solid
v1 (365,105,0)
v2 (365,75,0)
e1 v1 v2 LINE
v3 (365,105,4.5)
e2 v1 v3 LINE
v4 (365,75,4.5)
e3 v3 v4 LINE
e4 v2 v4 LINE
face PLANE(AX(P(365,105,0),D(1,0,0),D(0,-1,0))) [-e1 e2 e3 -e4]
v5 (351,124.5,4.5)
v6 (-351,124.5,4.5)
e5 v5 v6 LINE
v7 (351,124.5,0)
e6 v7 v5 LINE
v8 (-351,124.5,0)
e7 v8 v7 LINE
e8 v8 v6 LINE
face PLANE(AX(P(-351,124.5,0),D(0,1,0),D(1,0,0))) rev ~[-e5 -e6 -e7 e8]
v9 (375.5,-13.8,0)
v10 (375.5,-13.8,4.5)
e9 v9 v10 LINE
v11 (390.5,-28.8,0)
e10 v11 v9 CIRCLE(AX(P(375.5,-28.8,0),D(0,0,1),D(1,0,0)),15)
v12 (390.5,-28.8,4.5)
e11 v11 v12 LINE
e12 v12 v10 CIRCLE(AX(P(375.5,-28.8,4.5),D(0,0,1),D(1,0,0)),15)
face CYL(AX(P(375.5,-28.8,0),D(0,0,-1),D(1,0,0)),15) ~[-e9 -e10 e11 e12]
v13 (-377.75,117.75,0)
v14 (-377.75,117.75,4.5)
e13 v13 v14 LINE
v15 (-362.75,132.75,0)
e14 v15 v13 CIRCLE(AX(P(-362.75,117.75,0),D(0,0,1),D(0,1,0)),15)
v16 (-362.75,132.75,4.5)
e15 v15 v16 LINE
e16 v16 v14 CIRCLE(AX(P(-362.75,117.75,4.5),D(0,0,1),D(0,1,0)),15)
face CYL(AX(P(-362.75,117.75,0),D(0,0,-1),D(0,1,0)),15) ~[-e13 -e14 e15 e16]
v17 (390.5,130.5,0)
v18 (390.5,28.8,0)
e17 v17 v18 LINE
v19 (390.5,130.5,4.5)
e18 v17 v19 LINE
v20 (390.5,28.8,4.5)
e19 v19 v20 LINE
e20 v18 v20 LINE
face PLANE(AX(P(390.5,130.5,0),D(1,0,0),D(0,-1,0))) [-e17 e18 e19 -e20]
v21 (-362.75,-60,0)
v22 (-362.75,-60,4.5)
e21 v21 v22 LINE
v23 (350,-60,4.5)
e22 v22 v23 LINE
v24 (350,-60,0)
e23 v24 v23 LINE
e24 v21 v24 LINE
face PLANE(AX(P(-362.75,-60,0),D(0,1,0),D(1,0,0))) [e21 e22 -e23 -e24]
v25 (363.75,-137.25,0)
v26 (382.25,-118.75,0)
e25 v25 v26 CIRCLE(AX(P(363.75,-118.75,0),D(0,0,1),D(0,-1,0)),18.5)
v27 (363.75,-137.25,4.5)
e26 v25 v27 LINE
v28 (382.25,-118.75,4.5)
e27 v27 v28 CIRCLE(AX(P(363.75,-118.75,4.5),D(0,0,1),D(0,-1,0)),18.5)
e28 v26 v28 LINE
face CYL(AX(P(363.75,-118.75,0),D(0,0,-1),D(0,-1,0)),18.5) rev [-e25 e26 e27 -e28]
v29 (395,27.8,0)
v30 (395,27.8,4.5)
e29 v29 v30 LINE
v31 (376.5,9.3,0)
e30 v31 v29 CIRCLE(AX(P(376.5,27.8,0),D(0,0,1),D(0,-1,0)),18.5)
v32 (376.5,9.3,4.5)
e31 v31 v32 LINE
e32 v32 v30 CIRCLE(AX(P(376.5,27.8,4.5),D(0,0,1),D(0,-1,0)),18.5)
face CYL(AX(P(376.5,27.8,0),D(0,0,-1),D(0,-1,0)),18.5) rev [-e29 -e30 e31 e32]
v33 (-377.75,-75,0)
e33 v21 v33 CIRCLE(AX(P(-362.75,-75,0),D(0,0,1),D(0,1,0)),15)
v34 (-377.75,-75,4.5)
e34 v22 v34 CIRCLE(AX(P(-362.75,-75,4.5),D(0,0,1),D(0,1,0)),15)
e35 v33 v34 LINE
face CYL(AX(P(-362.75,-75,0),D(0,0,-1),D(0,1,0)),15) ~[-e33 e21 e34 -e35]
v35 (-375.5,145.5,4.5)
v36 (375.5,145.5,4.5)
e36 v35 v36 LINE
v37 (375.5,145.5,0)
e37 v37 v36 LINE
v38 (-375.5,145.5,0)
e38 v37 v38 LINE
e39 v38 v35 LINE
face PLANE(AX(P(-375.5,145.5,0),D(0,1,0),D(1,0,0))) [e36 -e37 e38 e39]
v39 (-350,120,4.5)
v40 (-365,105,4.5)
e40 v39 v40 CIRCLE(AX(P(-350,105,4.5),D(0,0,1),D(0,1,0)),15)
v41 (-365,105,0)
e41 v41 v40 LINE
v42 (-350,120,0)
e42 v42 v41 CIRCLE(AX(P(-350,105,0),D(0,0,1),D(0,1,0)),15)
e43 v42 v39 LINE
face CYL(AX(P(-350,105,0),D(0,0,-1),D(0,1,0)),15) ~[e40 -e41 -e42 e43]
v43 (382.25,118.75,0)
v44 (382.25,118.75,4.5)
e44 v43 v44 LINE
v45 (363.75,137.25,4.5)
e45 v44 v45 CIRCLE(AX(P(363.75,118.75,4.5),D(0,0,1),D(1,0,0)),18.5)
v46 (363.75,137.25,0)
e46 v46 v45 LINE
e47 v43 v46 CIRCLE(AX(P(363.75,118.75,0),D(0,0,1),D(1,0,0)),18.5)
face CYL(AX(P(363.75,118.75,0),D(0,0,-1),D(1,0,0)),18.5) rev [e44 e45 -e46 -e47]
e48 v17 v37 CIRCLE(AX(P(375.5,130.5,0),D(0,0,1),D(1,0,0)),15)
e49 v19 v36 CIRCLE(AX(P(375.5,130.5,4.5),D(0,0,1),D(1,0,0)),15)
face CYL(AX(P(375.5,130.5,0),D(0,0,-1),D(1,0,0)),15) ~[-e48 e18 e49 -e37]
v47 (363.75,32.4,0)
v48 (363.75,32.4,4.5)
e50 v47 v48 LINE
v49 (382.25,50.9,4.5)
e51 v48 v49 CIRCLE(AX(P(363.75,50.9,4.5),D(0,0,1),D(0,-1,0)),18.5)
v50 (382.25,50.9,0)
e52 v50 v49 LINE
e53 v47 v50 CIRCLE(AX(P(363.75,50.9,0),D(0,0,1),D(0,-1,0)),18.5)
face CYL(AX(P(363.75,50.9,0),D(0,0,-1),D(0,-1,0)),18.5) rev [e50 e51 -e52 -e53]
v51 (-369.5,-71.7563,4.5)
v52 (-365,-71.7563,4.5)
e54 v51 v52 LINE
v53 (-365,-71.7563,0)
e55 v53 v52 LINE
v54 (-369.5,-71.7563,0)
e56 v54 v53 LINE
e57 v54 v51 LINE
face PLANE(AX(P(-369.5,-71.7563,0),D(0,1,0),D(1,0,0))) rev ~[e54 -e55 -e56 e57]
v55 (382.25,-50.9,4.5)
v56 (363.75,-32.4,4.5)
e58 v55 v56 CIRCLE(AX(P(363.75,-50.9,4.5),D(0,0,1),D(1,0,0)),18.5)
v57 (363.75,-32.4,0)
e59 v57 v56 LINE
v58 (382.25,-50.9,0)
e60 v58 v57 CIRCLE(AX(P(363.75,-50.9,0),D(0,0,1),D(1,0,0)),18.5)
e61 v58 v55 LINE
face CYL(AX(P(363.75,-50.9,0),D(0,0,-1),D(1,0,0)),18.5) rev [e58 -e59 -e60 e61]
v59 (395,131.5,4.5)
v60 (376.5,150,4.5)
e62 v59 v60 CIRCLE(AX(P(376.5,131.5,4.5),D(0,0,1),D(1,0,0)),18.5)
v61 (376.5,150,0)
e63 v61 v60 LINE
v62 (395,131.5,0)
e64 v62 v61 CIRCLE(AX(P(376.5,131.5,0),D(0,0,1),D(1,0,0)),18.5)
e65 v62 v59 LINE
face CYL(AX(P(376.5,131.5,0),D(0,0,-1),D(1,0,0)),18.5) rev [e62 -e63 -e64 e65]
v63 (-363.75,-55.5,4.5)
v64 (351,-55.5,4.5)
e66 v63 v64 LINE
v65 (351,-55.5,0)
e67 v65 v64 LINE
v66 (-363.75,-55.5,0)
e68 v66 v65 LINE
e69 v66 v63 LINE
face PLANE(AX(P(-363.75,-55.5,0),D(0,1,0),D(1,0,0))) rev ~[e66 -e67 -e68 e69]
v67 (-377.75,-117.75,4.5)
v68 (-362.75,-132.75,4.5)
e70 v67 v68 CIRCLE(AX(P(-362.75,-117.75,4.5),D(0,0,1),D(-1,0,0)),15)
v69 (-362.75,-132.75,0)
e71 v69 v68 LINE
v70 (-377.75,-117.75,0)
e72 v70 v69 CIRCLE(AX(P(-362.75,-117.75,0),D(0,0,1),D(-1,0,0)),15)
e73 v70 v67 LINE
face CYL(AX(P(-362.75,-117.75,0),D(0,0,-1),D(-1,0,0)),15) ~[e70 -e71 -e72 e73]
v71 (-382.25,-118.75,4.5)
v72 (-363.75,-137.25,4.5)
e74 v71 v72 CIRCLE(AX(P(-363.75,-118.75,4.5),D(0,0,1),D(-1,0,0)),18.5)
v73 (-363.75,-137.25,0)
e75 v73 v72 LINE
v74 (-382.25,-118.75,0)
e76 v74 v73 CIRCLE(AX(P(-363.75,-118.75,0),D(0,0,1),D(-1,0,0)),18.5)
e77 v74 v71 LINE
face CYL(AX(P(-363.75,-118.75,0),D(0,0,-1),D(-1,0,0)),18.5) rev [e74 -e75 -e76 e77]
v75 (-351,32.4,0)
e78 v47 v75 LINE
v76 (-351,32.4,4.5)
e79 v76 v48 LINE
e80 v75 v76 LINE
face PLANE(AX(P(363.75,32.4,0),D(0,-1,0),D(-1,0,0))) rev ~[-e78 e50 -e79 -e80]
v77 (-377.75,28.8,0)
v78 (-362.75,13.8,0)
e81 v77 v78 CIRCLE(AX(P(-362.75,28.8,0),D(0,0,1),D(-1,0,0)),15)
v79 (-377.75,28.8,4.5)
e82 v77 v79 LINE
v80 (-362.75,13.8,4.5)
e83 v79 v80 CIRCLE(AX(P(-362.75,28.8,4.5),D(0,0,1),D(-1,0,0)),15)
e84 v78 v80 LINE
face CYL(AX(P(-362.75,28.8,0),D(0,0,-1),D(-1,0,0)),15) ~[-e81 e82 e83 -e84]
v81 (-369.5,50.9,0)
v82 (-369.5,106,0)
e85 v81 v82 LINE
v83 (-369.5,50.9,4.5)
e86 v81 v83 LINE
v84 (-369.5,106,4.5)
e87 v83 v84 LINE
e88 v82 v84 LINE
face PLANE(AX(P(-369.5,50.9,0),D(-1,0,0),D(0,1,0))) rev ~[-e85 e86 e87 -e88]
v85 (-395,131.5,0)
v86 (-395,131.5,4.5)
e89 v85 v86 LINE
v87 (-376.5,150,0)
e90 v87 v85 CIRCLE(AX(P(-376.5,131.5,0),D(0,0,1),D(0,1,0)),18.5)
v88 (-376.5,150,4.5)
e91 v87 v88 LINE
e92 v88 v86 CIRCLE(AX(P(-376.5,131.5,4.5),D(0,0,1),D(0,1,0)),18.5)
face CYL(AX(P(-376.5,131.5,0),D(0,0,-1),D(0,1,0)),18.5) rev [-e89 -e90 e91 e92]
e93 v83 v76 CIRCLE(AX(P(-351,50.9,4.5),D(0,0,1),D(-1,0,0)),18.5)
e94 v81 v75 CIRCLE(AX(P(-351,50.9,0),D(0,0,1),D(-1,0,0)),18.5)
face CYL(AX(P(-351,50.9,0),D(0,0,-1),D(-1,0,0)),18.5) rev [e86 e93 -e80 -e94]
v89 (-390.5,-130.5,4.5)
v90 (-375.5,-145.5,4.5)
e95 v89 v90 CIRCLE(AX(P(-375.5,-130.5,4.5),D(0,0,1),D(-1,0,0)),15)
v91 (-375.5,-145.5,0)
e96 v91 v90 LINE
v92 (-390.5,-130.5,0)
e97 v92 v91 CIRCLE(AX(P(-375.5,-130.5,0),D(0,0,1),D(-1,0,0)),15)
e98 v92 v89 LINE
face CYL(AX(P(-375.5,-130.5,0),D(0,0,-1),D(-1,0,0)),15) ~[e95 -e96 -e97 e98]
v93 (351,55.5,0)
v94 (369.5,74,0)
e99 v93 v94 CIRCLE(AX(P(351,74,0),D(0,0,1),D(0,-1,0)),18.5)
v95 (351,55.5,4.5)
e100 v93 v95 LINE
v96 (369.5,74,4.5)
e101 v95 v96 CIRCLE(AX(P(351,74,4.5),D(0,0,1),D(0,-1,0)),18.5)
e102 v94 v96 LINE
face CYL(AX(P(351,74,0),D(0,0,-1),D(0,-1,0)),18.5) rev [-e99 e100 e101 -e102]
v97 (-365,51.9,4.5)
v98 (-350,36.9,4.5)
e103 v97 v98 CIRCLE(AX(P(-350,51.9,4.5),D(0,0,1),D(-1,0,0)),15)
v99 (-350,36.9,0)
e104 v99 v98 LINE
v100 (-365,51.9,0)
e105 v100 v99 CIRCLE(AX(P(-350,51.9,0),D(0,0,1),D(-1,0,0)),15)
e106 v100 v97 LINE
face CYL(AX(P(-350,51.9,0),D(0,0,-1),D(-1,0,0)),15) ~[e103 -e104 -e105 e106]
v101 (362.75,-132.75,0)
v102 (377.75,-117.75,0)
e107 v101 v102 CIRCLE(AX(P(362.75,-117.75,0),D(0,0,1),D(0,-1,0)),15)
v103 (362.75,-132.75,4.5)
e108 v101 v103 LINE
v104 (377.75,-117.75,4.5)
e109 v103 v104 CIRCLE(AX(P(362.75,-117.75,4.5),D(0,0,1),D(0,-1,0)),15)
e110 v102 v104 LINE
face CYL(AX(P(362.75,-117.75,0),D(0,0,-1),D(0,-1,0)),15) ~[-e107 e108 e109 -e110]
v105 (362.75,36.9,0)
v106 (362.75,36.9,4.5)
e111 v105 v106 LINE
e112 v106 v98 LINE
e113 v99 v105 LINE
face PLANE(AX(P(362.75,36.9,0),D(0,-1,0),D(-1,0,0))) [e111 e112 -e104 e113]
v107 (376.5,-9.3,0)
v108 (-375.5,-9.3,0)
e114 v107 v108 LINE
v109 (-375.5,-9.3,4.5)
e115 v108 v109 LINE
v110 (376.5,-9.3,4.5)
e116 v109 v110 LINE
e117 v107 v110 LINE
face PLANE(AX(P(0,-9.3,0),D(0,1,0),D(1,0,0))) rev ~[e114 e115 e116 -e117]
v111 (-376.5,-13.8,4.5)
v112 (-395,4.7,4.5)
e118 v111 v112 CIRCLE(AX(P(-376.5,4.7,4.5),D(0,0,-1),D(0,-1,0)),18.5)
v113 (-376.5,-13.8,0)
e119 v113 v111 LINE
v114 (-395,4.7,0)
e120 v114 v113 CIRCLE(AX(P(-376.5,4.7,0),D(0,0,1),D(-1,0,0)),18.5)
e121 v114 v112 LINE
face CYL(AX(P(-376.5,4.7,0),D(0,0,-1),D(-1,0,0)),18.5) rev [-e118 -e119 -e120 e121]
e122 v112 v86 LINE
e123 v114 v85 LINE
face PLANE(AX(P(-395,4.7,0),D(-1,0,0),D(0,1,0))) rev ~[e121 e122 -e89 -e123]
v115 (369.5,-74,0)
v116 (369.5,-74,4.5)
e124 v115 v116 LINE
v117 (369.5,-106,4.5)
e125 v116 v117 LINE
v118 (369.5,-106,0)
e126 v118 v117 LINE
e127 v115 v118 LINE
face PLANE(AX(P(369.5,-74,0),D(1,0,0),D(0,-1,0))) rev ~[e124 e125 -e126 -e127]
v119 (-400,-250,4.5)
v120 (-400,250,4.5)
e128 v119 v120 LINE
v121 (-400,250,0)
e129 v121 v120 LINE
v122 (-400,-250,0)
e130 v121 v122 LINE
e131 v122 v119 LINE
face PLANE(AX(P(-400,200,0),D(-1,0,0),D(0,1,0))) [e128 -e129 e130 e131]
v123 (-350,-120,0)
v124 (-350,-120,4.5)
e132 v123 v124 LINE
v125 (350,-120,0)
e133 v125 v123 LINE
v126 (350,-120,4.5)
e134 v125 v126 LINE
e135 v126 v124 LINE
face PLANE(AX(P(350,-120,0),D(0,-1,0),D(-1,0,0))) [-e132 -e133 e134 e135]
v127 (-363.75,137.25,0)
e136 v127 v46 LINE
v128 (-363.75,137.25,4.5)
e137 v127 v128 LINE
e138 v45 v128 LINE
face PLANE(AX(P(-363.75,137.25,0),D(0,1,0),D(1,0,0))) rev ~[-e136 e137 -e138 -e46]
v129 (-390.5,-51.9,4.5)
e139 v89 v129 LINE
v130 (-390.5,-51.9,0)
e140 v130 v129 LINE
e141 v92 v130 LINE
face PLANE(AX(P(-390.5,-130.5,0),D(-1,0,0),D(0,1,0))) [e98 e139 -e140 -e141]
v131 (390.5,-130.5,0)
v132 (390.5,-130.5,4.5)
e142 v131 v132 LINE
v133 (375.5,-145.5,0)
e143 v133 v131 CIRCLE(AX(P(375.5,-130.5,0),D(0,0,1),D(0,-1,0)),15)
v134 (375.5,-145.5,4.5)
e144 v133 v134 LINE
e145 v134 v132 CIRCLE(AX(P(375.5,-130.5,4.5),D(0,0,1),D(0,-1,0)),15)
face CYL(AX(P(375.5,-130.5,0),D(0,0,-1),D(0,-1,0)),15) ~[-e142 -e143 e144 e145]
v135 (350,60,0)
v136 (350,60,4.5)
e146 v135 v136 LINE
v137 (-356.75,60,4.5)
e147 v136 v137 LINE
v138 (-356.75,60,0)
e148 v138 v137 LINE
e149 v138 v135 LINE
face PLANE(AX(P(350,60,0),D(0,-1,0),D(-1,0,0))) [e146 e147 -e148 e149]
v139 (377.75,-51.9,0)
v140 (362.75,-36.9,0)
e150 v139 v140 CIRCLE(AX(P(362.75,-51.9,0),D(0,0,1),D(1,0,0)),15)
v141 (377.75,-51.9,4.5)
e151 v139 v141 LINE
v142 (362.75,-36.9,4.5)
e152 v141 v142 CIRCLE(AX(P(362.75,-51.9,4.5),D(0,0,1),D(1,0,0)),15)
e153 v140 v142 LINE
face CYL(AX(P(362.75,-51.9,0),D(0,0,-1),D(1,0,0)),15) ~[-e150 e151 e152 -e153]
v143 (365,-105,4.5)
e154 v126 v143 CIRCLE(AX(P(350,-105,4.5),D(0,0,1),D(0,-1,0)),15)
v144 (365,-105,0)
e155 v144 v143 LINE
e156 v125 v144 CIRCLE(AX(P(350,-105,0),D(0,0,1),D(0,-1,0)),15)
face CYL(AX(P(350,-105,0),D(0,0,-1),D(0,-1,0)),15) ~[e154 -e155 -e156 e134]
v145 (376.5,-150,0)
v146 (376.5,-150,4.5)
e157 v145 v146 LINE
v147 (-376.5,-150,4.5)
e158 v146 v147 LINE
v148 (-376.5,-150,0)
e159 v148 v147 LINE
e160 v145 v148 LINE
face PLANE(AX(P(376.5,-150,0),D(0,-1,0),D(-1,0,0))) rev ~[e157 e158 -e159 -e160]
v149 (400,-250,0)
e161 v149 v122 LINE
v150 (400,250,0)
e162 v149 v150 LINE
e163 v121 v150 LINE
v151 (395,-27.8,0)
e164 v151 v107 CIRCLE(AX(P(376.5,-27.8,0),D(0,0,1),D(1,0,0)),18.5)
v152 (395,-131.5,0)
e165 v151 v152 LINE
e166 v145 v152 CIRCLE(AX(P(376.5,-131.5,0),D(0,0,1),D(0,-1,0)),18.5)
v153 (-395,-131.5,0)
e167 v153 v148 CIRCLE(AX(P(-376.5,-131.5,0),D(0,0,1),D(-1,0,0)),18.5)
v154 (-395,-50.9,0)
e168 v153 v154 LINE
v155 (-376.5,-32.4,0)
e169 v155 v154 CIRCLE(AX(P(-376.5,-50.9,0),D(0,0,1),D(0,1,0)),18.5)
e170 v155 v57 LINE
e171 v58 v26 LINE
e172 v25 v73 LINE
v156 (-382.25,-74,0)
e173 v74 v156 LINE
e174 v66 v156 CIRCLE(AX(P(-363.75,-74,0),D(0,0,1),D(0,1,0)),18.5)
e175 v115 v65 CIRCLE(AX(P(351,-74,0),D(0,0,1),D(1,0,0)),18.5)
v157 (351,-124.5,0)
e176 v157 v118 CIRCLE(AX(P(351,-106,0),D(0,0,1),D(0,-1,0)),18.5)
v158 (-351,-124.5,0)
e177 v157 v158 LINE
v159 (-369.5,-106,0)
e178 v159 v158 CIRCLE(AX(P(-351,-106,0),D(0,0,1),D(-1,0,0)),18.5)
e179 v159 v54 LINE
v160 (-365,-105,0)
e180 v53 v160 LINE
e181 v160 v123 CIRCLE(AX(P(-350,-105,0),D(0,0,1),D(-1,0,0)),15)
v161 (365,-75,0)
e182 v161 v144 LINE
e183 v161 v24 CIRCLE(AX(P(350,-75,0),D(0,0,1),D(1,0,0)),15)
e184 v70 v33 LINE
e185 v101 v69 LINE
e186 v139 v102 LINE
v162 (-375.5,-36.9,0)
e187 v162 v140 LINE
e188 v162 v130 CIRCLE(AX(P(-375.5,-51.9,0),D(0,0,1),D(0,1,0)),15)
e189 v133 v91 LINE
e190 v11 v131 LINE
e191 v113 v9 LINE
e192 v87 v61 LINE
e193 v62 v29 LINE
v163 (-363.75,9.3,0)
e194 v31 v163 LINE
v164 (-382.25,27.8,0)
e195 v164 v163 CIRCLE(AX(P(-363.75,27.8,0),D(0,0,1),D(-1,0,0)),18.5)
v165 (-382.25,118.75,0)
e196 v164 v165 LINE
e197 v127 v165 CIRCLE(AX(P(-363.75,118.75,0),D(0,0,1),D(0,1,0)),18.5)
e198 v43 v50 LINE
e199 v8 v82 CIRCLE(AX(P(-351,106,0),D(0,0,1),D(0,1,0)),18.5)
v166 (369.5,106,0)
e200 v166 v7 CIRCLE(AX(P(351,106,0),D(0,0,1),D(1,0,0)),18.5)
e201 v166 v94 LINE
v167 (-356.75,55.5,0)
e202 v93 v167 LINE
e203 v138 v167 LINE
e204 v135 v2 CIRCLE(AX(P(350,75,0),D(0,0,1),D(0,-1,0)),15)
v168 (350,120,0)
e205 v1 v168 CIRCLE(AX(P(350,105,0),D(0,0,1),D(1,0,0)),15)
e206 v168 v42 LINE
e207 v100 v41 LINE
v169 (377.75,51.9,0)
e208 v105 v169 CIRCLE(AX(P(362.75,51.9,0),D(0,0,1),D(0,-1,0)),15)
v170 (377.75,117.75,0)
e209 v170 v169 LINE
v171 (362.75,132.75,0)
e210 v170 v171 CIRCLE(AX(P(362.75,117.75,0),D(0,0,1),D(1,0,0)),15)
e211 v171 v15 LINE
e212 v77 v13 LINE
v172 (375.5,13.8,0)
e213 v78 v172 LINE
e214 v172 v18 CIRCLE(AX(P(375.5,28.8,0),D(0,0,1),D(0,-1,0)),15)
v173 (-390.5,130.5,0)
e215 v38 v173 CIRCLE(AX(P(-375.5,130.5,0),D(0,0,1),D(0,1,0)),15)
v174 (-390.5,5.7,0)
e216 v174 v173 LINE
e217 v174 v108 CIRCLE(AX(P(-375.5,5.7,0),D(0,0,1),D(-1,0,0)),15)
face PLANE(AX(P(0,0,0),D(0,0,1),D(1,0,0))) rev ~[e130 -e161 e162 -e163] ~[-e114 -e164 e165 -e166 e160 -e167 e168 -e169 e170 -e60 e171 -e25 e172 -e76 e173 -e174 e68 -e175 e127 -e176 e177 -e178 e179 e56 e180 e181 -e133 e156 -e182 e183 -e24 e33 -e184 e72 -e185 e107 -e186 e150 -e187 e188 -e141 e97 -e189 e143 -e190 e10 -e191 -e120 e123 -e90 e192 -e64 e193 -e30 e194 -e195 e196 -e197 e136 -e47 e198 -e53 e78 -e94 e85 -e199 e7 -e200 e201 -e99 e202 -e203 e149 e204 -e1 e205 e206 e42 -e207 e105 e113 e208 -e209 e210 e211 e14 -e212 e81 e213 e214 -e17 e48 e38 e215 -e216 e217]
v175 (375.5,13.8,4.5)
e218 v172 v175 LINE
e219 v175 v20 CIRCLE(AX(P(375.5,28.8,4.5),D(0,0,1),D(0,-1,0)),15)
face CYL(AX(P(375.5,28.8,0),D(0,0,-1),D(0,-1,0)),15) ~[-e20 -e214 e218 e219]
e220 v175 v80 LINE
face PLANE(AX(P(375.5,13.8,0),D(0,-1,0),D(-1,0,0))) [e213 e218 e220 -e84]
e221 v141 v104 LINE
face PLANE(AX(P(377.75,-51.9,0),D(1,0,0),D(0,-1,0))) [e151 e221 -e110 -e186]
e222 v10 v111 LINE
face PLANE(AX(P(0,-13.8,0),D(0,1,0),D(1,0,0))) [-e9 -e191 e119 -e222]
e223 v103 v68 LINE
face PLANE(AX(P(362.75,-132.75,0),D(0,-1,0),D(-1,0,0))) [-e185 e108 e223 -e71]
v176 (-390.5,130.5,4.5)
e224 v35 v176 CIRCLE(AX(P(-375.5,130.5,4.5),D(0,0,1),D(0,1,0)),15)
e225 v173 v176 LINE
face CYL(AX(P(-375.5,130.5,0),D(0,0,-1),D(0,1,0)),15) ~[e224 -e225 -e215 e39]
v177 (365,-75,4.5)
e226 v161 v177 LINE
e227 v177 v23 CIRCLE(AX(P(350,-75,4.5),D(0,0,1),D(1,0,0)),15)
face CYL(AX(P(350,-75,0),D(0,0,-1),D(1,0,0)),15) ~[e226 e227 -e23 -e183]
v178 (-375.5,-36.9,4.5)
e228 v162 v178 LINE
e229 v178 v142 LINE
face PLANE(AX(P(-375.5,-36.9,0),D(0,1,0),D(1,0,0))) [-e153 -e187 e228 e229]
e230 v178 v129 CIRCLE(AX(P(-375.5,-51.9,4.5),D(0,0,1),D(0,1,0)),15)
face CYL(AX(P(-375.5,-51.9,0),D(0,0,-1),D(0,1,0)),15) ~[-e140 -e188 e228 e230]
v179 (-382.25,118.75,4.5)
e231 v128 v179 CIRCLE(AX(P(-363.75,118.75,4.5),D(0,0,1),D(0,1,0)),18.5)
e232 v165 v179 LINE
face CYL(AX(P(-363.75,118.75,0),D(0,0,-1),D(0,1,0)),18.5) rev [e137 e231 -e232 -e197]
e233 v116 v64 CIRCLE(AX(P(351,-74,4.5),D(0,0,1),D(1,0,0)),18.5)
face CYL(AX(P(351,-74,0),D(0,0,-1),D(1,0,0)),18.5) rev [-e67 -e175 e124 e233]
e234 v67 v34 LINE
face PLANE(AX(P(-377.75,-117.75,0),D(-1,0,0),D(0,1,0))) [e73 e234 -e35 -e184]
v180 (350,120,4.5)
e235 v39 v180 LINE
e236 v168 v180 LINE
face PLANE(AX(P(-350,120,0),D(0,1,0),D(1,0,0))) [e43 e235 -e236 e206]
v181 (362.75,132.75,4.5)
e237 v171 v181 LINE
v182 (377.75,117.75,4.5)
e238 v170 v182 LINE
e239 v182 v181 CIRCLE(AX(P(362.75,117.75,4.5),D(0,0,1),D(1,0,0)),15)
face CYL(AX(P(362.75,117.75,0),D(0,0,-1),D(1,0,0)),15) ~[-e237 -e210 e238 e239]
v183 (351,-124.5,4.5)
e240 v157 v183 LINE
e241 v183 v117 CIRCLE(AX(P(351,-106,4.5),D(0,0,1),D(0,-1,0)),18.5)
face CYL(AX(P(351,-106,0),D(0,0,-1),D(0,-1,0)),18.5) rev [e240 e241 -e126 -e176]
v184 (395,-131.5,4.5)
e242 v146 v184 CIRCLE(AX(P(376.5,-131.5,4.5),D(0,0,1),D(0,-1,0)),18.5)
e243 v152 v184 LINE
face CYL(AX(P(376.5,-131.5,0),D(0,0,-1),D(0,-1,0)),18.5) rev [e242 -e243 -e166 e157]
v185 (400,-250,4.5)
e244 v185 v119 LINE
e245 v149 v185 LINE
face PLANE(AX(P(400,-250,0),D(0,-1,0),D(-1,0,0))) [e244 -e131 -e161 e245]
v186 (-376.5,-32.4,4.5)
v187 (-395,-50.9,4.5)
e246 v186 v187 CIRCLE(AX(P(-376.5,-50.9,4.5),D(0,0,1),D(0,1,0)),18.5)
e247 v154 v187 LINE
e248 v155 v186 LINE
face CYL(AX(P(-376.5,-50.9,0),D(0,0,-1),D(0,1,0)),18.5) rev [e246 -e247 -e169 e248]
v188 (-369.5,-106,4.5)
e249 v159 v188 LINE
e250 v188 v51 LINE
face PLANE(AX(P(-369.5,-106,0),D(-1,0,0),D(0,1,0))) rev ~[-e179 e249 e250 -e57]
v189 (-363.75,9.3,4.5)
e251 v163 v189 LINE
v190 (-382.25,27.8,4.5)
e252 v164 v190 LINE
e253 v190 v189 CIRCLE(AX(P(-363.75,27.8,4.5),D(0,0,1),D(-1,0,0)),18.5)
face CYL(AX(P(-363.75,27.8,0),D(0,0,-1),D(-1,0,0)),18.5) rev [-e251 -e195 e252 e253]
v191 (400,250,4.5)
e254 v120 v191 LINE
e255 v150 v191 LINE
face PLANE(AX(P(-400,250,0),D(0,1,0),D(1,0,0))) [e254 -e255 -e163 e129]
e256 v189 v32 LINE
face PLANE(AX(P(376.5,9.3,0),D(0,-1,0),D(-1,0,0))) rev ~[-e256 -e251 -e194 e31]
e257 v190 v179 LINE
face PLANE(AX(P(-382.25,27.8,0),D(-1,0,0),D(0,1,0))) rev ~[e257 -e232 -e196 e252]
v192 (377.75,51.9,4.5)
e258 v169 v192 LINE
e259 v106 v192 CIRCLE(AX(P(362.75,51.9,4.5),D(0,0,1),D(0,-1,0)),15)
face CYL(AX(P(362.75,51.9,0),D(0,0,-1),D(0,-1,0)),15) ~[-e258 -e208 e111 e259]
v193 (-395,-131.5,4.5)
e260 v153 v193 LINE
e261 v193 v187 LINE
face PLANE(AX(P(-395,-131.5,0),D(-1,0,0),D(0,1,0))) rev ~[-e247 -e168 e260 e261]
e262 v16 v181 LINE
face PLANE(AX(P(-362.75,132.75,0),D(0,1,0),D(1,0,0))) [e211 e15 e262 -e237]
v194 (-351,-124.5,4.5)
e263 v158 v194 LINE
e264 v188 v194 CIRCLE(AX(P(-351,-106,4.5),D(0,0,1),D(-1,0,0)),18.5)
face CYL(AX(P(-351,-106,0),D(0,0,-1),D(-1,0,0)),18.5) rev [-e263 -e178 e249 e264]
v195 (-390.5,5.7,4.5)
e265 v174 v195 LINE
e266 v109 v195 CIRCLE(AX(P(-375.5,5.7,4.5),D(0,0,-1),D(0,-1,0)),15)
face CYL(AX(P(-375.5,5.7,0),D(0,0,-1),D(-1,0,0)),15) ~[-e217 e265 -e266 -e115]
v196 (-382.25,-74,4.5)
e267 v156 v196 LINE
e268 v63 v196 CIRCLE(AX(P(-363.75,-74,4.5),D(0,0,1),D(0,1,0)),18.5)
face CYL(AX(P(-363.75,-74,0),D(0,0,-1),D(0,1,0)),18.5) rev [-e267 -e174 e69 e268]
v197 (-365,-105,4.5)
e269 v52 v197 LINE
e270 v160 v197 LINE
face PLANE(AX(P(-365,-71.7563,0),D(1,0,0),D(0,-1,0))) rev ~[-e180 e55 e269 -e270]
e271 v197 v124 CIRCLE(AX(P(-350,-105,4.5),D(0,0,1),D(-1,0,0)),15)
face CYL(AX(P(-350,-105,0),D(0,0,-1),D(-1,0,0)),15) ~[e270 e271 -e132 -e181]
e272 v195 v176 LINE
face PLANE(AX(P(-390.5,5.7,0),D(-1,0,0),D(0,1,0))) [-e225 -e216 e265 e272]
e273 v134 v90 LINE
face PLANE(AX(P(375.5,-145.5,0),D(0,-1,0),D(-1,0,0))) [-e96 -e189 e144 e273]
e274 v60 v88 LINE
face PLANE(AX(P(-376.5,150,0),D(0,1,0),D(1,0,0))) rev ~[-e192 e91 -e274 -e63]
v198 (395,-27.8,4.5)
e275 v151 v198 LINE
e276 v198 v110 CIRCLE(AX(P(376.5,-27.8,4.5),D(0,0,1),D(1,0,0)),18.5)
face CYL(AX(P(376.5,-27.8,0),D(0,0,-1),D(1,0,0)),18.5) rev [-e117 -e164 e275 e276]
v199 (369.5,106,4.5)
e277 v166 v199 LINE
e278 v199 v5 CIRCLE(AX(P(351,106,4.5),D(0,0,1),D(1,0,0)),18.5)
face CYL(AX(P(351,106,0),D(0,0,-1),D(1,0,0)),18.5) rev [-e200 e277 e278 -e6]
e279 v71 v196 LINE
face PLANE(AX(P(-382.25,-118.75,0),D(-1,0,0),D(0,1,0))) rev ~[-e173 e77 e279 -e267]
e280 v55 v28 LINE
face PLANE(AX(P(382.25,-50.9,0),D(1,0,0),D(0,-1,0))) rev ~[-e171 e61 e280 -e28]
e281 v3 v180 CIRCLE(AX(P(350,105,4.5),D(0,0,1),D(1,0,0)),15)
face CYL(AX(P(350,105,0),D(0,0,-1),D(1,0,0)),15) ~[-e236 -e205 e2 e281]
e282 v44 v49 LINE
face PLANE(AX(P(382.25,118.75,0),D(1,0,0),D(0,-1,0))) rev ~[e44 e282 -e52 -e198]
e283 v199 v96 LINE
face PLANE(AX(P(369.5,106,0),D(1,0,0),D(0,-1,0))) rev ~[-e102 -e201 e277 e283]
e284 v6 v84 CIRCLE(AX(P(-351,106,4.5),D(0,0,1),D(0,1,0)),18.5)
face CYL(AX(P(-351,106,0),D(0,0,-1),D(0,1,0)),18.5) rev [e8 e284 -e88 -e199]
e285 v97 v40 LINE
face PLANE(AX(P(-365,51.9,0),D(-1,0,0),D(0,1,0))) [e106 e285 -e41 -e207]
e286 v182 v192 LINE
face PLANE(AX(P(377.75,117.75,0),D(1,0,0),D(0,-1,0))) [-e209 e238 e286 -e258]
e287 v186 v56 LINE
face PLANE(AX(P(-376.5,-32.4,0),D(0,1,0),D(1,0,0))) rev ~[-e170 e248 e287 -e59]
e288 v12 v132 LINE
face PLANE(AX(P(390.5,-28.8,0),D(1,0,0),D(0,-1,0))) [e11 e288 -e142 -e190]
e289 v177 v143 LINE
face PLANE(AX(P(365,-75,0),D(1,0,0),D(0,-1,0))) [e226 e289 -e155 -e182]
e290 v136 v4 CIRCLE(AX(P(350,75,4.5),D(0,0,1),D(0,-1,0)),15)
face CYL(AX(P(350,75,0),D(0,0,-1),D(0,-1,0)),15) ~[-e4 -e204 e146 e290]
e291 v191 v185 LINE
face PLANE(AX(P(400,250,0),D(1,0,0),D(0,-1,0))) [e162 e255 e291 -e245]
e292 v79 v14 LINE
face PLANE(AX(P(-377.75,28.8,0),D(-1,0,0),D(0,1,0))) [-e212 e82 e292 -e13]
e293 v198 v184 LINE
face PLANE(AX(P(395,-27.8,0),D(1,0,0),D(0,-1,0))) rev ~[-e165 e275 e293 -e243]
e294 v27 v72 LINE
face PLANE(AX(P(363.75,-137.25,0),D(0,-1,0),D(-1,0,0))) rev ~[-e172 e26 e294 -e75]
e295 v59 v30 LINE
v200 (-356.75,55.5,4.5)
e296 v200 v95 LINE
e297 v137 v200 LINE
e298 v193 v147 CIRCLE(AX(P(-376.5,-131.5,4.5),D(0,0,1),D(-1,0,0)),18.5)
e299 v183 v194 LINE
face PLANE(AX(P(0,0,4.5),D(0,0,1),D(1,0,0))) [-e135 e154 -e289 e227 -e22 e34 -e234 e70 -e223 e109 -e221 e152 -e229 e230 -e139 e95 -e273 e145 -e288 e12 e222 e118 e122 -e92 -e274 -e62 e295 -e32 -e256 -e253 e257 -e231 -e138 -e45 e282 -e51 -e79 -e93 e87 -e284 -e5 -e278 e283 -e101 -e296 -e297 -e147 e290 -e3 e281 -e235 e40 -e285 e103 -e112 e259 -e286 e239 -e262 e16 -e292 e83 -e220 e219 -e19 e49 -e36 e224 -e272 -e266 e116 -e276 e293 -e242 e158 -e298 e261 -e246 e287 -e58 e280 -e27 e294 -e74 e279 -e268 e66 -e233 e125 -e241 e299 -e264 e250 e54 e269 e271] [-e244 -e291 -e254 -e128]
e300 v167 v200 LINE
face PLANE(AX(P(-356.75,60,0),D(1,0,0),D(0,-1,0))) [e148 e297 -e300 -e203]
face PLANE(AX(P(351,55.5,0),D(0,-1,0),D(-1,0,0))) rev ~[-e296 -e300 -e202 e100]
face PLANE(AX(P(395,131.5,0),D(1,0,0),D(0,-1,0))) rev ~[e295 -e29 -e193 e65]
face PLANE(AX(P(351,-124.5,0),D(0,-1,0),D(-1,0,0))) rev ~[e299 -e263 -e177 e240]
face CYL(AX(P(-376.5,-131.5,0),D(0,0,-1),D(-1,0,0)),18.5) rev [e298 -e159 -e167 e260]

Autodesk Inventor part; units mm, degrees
ref_plane "YZ Plane" through (0, 0, 0) normal (1, 0, 0) x (0, 1, 0)
ref_plane "XZ Plane" through (0, 0, 0) normal (0, 1, 0) x (-1, 0, 0)
ref_plane "XY Plane" through (0, 0, 0) normal (0, 0, 1) x (1, 0, 0)
sketch "layer_layout_sketch" plane through (0, 0, 0) normal (0, 0, 1) x (1, 0, 0)
  line L0 (-400, 250) -> (400, 250)
  line L1 (400, 250) -> (400, -250)
  line L2 (400, -250) -> (-400, -250)
  line L3 (-400, -250) -> (-400, 250)
  line L4 (0, 250) -> (0, -250) construction
  line L5 (-400, 200) -> (400, 200)
  line L6 (400, 200) -> (400, -200)
  line L7 (400, -200) -> (-400, -200)
  line L8 (-400, -200) -> (-400, 200)
  line L9 (0, 200) -> (0, -200) construction
  line L10 (-400, 150) -> (400, 150)
  line L11 (400, 150) -> (400, -150)
  line L12 (400, -150) -> (-400, -150)
  line L13 (-400, -150) -> (-400, 150)
  line L14 (0, 150) -> (0, -150) construction
  point P0 (0, 0)
  point P1 (0, 0)
  dimension "d116" = 500
  dimension "d117" = 800
  dimension "d122" = 400
  dimension "d123" = 300
sketch "coil_layer_sketch_lower" plane through (0, 0, 0) normal (0, 0, 1) x (1, 0, 0)
  line L0 (0, -9.3) -> (376.5, -9.3)
  line L1 (395, -27.8) -> (395, -131.5)
  line L2 (376.5, -150) -> (-376.5, -150)
  line L3 (-395, -131.5) -> (-395, -50.9)
  line L4 (0, -9.3) -> (0, -13.8)
  line L5 (0, -13.8) -> (375.5, -13.8)
  line L6 (390.5, -28.8) -> (390.5, -130.5)
  line L7 (375.5, -145.5) -> (-375.5, -145.5)
  line L8 (-376.5, -32.4) -> (363.75, -32.4)
  line L9 (382.25, -50.9) -> (382.25, -118.75)
  line L10 (363.75, -137.25) -> (-363.75, -137.25)
  line L11 (-390.5, -130.5) -> (-390.5, -51.9)
  line L12 (-375.5, -36.9) -> (362.75, -36.9)
  line L13 (377.75, -51.9) -> (377.75, -117.75)
  line L14 (362.75, -132.75) -> (-362.75, -132.75)
  line L15 (-377.75, -117.75) -> (-377.75, -75)
  line L16 (-382.25, -118.75) -> (-382.25, -74)
  line L17 (-363.75, -55.5) -> (351, -55.5)
  line L18 (369.5, -74) -> (369.5, -106)
  line L19 (-362.75, -60) -> (350, -60)
  line L20 (365, -75) -> (365, -105)
  line L21 (-523.3641, 0) -> (523.3641, 0) projected
  line L22 (350, -120) -> (-350, -120)
  line L23 (351, -124.5) -> (-351, -124.5)
  line L24 (-369.5, -106) -> (-369.5, -71.7563)
  line L25 (-369.5, -71.7563) -> (-365, -71.7563)
  line L26 (-365, -71.7563) -> (-365, -105)
  arc A0 (395, -27.8) -> (376.5, -9.3) centre (376.5, -27.8) ccw
  arc A1 (382.25, -50.9) -> (363.75, -32.4) centre (363.75, -50.9) ccw
  arc A2 (369.5, -74) -> (351, -55.5) centre (351, -74) ccw
  arc A3 (351, -124.5) -> (369.5, -106) centre (351, -106) ccw
  arc A4 (363.75, -137.25) -> (382.25, -118.75) centre (363.75, -118.75) ccw
  arc A5 (376.5, -150) -> (395, -131.5) centre (376.5, -131.5) ccw
  arc A6 (-395, -131.5) -> (-376.5, -150) centre (-376.5, -131.5) ccw
  arc A7 (-382.25, -118.75) -> (-363.75, -137.25) centre (-363.75, -118.75) ccw
  arc A8 (-369.5, -106) -> (-351, -124.5) centre (-351, -106) ccw
  arc A9 (-376.5, -32.4) -> (-395, -50.9) centre (-376.5, -50.9) ccw
  arc A10 (-363.75, -55.5) -> (-382.25, -74) centre (-363.75, -74) ccw
  arc A11 (-375.5, -36.9) -> (-390.5, -51.9) centre (-375.5, -51.9) ccw
  arc A12 (-362.75, -60) -> (-377.75, -75) centre (-362.75, -75) ccw
  arc A13 (-390.5, -130.5) -> (-375.5, -145.5) centre (-375.5, -130.5) ccw
  arc A14 (-377.75, -117.75) -> (-362.75, -132.75) centre (-362.75, -117.75) ccw
  arc A15 (-365, -105) -> (-350, -120) centre (-350, -105) ccw
  arc A16 (350, -120) -> (365, -105) centre (350, -105) ccw
  arc A17 (362.75, -132.75) -> (377.75, -117.75) centre (362.75, -117.75) ccw
  arc A18 (375.5, -145.5) -> (390.5, -130.5) centre (375.5, -130.5) ccw
  arc A19 (377.75, -51.9) -> (362.75, -36.9) centre (362.75, -51.9) ccw
  arc A20 (390.5, -28.8) -> (375.5, -13.8) centre (375.5, -28.8) ccw
  arc A21 (365, -75) -> (350, -60) centre (350, -75) ccw
  point P0 (0, 0)
  point P1 (0, 0)
  point P2 (368.0934, -60)
  point P3 (370, -61.9066)
  point P4 (0, -150)
  dimension "d1" = 4.5
  dimension "d2" = 4.5
  dimension "d3" = 4.5
  dimension "d4" = 9.3
  dimension "d5" = 790
  dimension "d6" = 395
  dimension "d7" = 4.5
  dimension "d8" = 4.5
  dimension "d9" = 8.25
  dimension "d10" = 4.5
  dimension "d11" = 18.6
  dimension "d12" = 4.5
  dimension "d13" = 8.25
  dimension "d14" = 4.5
  dimension "d15" = 4.5
  dimension "d16" = 4.5
  dimension "d17" = 8.25
  dimension "d19" = 18.6
  dimension "d20" = 8.25
  dimension "d82" = 150
  dimension "d88" = 4.5
  dimension "d89" = 8.25
  dimension "d96" = 4.5
  dimension "d97" = 8.25
  dimension "d98" = 18.5
  dimension "d99" = 15
  dimension "d109" = 15
sketch "coil_layer_sketch_upper" plane through (0, 0, 0) normal (0, 0, 1) x (1, 0, 0)
  line L0 (0, -13.8) -> (-376.5, -13.8)
  line L1 (-395, 4.7) -> (-395, 131.5)
  line L2 (-376.5, 150) -> (376.5, 150)
  line L3 (395, 131.5) -> (395, 27.8)
  line L4 (0, -9.3) -> (-375.5, -9.3)
  line L5 (-390.5, 5.7) -> (-390.5, 130.5)
  line L6 (-375.5, 145.5) -> (375.5, 145.5)
  line L7 (390.5, 130.5) -> (390.5, 28.8)
  line L8 (375.5, 13.8) -> (-362.75, 13.8)
  line L9 (-377.75, 28.8) -> (-377.75, 117.75)
  line L10 (376.5, 9.3) -> (-363.75, 9.3)
  line L11 (-382.25, 27.8) -> (-382.25, 118.75)
  line L12 (-362.75, 132.75) -> (362.75, 132.75)
  line L13 (-363.75, 137.25) -> (363.75, 137.25)
  line L14 (377.75, 117.75) -> (377.75, 51.9)
  line L15 (362.75, 36.9) -> (-350, 36.9)
  line L16 (382.25, 118.75) -> (382.25, 50.9)
  line L17 (363.75, 32.4) -> (-351, 32.4)
  line L18 (-365, 51.9) -> (-365, 105)
  line L19 (-350, 120) -> (350, 120)
  line L20 (365, 105) -> (365, 75)
  line L21 (350, 60) -> (-356.75, 60)
  line L22 (-369.5, 50.9) -> (-369.5, 106)
  line L23 (-351, 124.5) -> (351, 124.5)
  line L24 (369.5, 106) -> (369.5, 74)
  line L25 (351, 55.5) -> (-356.75, 55.5)
  line L26 (-356.75, 60) -> (-356.75, 55.5)
  line L27 (-700, 0) -> (700, 0)
  line L28 (-980, 0) -> (980, 0) projected
  line L29 (0, -13.8) -> (0, -9.3)
  line L30 (0, -51.9241) -> (0, 188.1241) projected
  arc A0 (365, 105) -> (350, 120) centre (350, 105) ccw
  arc A1 (350, 60) -> (365, 75) centre (350, 75) ccw
  arc A2 (377.75, 117.75) -> (362.75, 132.75) centre (362.75, 117.75) ccw
  arc A3 (362.75, 36.9) -> (377.75, 51.9) centre (362.75, 51.9) ccw
  arc A4 (390.5, 130.5) -> (375.5, 145.5) centre (375.5, 130.5) ccw
  arc A5 (375.5, 13.8) -> (390.5, 28.8) centre (375.5, 28.8) ccw
  arc A6 (-350, 120) -> (-365, 105) centre (-350, 105) ccw
  arc A7 (-365, 51.9) -> (-350, 36.9) centre (-350, 51.9) ccw
  arc A8 (-377.75, 28.8) -> (-362.75, 13.8) centre (-362.75, 28.8) ccw
  arc A9 (-390.5, 5.7) -> (-375.5, -9.3) centre (-375.5, 5.7) ccw
  arc A10 (-362.75, 132.75) -> (-377.75, 117.75) centre (-362.75, 117.75) ccw
  arc A11 (-375.5, 145.5) -> (-390.5, 130.5) centre (-375.5, 130.5) ccw
  arc A12 (-376.5, 150) -> (-395, 131.5) centre (-376.5, 131.5) ccw
  arc A13 (-363.75, 137.25) -> (-382.25, 118.75) centre (-363.75, 118.75) ccw
  arc A14 (-351, 124.5) -> (-369.5, 106) centre (-351, 106) ccw
  arc A15 (-369.5, 50.9) -> (-351, 32.4) centre (-351, 50.9) ccw
  arc A16 (-382.25, 27.8) -> (-363.75, 9.3) centre (-363.75, 27.8) ccw
  arc A17 (-395, 4.7) -> (-376.5, -13.8) centre (-376.5, 4.7) ccw
  arc A18 (351, 55.5) -> (369.5, 74) centre (351, 74) ccw
  arc A19 (363.75, 32.4) -> (382.25, 50.9) centre (363.75, 50.9) ccw
  arc A20 (376.5, 9.3) -> (395, 27.8) centre (376.5, 27.8) ccw
  arc A21 (395, 131.5) -> (376.5, 150) centre (376.5, 131.5) ccw
  arc A22 (382.25, 118.75) -> (363.75, 137.25) centre (363.75, 118.75) ccw
  arc A23 (369.5, 106) -> (351, 124.5) centre (351, 106) ccw
  point P0 (0, 0)
  point P1 (395, 9.3)
  point P2 (-382.25, 9.3)
  point P3 (0, 150)
  point P4 (-700, 0)
  point P5 (700, 0)
  point P6 (0, 150)
  dimension "d58" = 4.5
  dimension "d59" = 4.5
  dimension "d60" = 4.5
  dimension "d61" = 8.25
  dimension "d62" = 8.25
  dimension "d64" = 4.5
  dimension "d65" = 4.5
  dimension "d66" = 4.5
  dimension "d67" = 8.25
  dimension "d69" = 18.6
  dimension "d70" = 4.5
  dimension "d71" = 4.5
  dimension "d72" = 18.6
  dimension "d73" = 8.25
  dimension "d74" = 8.25
  dimension "d75" = 4.5
  dimension "d77" = 18.6
  dimension "d78" = 4.5
  dimension "d79" = 4.5
  dimension "d80" = 4.5
  dimension "d83" = 150
  dimension "d87" = 8.25
  dimension "d91" = 4.5
  dimension "d92" = 9.3
  dimension "d93" = 790
  dimension "d100" = 15
  dimension "d101" = 18.5
  dimension "d102" = 8.25
extrude "layer_sheet Extrude" add sketch "layer_layout_sketch" along normal blind 4.5
extrude "wire_holes_upper Cut" cut sketch "coil_layer_sketch_upper" along normal blind 4.5 contours L0 A17 L27 A9 L4 L29 | A17 L1 A12 L2 L30 L6 A11 L5 A9 L27 | L30 L8 A5 L7 A4 L6 L2 A21 L3 A20 L10 | L10 A16 L11 A13 L13 L30 L12 A10 L9 A8 L8 | L30 L15 A3 L14 A2 L12 L13 A22 L16 A19 L17 | L17 A15 L22 A14 L23 L30 L19 A6 L18 A7 L15 | L30 L21 A1 L20 A0 L19 L23 A23 L24 A18 L25 | L25 L26 L21 L30
extrude "wire_holes_lower Cut" cut sketch "coil_layer_sketch_lower" along normal blind 4.5
equation "\"d1\" = wire_diameter"
equation "\"d2\" = wire_diameter"
equation "\"d3\" = wire_diameter"
equation "\"d4\" = 0.5 * distance_between_wires"
equation "\"d6\" = 0.5 * coil_length"
equation "\"d7\" = wire_diameter"
equation "\"d8\" = wire_diameter"
equation "\"d9\" = distance_between_wires_edge"
equation "\"d10\" = wire_diameter"
equation "\"d11\" = distance_between_wires"
equation "\"d12\" = wire_diameter"
equation "\"d13\" = distance_between_wires_edge"
equation "\"d14\" = wire_diameter"
equation "\"d15\" = wire_diameter"
equation "\"d16\" = wire_diameter"
equation "\"d17\" = distance_between_wires_edge"
equation "\"d19\" = distance_between_wires"
equation "\"d20\" = distance_between_wires_edge"
equation "\"d82\" = 0.5 * track_width"
equation "\"d58\" = wire_diameter"
equation "\"d59\" = wire_diameter"
equation "\"d60\" = wire_diameter"
equation "\"d61\" = distance_between_wires_edge"
equation "\"d62\" = distance_between_wires_edge"
equation "\"d64\" = wire_diameter"
equation "\"d65\" = wire_diameter"
equation "\"d66\" = wire_diameter"
equation "\"d67\" = distance_between_wires_edge"
equation "\"d69\" = distance_between_wires"
equation "\"d70\" = wire_diameter"
equation "\"d71\" = wire_diameter"
equation "\"d72\" = distance_between_wires"
equation "\"d73\" = distance_between_wires_edge"
equation "\"d74\" = distance_between_wires_edge"
equation "\"d75\" = wire_diameter"
equation "\"d77\" = distance_between_wires"
equation "\"d78\" = wire_diameter"
equation "\"d79\" = wire_diameter"
equation "\"d80\" = wire_diameter"
equation "\"d83\" = 0.5 * track_width"
equation "\"wire_diameter\" = 4.5"
equation "\"distance_between_wires\" = -1.2 * wire_diameter + 0.2 * parameter_6"
equation "\"distance_between_wires_edge\" = 8.25"
equation "\"bend_radius_inner\" = 15"
equation "\"bend_radius_outer\" = 18.5"
equation "\"ferrite_length\" = 218"
equation "\"ferrite_width\" = 15"
equation "\"ferrite_height\" = 8"
equation "\"edge_gap_distance\" = 14.5"
equation "\"parameter_5\" = 126"
equation "\"bolt_diameter\" = 8"
equation "\"x_offset_for_bolts\" = 75"
equation "\"y_offset_for_bolts\" = 175"
equation "\"wall_thickness\" = 25"
equation "\"track_width\" = 300"
equation "\"parameter_6\" = 120"
equation "\"coil_length\" = 790"
properties part number "coil_layer_1R1"
